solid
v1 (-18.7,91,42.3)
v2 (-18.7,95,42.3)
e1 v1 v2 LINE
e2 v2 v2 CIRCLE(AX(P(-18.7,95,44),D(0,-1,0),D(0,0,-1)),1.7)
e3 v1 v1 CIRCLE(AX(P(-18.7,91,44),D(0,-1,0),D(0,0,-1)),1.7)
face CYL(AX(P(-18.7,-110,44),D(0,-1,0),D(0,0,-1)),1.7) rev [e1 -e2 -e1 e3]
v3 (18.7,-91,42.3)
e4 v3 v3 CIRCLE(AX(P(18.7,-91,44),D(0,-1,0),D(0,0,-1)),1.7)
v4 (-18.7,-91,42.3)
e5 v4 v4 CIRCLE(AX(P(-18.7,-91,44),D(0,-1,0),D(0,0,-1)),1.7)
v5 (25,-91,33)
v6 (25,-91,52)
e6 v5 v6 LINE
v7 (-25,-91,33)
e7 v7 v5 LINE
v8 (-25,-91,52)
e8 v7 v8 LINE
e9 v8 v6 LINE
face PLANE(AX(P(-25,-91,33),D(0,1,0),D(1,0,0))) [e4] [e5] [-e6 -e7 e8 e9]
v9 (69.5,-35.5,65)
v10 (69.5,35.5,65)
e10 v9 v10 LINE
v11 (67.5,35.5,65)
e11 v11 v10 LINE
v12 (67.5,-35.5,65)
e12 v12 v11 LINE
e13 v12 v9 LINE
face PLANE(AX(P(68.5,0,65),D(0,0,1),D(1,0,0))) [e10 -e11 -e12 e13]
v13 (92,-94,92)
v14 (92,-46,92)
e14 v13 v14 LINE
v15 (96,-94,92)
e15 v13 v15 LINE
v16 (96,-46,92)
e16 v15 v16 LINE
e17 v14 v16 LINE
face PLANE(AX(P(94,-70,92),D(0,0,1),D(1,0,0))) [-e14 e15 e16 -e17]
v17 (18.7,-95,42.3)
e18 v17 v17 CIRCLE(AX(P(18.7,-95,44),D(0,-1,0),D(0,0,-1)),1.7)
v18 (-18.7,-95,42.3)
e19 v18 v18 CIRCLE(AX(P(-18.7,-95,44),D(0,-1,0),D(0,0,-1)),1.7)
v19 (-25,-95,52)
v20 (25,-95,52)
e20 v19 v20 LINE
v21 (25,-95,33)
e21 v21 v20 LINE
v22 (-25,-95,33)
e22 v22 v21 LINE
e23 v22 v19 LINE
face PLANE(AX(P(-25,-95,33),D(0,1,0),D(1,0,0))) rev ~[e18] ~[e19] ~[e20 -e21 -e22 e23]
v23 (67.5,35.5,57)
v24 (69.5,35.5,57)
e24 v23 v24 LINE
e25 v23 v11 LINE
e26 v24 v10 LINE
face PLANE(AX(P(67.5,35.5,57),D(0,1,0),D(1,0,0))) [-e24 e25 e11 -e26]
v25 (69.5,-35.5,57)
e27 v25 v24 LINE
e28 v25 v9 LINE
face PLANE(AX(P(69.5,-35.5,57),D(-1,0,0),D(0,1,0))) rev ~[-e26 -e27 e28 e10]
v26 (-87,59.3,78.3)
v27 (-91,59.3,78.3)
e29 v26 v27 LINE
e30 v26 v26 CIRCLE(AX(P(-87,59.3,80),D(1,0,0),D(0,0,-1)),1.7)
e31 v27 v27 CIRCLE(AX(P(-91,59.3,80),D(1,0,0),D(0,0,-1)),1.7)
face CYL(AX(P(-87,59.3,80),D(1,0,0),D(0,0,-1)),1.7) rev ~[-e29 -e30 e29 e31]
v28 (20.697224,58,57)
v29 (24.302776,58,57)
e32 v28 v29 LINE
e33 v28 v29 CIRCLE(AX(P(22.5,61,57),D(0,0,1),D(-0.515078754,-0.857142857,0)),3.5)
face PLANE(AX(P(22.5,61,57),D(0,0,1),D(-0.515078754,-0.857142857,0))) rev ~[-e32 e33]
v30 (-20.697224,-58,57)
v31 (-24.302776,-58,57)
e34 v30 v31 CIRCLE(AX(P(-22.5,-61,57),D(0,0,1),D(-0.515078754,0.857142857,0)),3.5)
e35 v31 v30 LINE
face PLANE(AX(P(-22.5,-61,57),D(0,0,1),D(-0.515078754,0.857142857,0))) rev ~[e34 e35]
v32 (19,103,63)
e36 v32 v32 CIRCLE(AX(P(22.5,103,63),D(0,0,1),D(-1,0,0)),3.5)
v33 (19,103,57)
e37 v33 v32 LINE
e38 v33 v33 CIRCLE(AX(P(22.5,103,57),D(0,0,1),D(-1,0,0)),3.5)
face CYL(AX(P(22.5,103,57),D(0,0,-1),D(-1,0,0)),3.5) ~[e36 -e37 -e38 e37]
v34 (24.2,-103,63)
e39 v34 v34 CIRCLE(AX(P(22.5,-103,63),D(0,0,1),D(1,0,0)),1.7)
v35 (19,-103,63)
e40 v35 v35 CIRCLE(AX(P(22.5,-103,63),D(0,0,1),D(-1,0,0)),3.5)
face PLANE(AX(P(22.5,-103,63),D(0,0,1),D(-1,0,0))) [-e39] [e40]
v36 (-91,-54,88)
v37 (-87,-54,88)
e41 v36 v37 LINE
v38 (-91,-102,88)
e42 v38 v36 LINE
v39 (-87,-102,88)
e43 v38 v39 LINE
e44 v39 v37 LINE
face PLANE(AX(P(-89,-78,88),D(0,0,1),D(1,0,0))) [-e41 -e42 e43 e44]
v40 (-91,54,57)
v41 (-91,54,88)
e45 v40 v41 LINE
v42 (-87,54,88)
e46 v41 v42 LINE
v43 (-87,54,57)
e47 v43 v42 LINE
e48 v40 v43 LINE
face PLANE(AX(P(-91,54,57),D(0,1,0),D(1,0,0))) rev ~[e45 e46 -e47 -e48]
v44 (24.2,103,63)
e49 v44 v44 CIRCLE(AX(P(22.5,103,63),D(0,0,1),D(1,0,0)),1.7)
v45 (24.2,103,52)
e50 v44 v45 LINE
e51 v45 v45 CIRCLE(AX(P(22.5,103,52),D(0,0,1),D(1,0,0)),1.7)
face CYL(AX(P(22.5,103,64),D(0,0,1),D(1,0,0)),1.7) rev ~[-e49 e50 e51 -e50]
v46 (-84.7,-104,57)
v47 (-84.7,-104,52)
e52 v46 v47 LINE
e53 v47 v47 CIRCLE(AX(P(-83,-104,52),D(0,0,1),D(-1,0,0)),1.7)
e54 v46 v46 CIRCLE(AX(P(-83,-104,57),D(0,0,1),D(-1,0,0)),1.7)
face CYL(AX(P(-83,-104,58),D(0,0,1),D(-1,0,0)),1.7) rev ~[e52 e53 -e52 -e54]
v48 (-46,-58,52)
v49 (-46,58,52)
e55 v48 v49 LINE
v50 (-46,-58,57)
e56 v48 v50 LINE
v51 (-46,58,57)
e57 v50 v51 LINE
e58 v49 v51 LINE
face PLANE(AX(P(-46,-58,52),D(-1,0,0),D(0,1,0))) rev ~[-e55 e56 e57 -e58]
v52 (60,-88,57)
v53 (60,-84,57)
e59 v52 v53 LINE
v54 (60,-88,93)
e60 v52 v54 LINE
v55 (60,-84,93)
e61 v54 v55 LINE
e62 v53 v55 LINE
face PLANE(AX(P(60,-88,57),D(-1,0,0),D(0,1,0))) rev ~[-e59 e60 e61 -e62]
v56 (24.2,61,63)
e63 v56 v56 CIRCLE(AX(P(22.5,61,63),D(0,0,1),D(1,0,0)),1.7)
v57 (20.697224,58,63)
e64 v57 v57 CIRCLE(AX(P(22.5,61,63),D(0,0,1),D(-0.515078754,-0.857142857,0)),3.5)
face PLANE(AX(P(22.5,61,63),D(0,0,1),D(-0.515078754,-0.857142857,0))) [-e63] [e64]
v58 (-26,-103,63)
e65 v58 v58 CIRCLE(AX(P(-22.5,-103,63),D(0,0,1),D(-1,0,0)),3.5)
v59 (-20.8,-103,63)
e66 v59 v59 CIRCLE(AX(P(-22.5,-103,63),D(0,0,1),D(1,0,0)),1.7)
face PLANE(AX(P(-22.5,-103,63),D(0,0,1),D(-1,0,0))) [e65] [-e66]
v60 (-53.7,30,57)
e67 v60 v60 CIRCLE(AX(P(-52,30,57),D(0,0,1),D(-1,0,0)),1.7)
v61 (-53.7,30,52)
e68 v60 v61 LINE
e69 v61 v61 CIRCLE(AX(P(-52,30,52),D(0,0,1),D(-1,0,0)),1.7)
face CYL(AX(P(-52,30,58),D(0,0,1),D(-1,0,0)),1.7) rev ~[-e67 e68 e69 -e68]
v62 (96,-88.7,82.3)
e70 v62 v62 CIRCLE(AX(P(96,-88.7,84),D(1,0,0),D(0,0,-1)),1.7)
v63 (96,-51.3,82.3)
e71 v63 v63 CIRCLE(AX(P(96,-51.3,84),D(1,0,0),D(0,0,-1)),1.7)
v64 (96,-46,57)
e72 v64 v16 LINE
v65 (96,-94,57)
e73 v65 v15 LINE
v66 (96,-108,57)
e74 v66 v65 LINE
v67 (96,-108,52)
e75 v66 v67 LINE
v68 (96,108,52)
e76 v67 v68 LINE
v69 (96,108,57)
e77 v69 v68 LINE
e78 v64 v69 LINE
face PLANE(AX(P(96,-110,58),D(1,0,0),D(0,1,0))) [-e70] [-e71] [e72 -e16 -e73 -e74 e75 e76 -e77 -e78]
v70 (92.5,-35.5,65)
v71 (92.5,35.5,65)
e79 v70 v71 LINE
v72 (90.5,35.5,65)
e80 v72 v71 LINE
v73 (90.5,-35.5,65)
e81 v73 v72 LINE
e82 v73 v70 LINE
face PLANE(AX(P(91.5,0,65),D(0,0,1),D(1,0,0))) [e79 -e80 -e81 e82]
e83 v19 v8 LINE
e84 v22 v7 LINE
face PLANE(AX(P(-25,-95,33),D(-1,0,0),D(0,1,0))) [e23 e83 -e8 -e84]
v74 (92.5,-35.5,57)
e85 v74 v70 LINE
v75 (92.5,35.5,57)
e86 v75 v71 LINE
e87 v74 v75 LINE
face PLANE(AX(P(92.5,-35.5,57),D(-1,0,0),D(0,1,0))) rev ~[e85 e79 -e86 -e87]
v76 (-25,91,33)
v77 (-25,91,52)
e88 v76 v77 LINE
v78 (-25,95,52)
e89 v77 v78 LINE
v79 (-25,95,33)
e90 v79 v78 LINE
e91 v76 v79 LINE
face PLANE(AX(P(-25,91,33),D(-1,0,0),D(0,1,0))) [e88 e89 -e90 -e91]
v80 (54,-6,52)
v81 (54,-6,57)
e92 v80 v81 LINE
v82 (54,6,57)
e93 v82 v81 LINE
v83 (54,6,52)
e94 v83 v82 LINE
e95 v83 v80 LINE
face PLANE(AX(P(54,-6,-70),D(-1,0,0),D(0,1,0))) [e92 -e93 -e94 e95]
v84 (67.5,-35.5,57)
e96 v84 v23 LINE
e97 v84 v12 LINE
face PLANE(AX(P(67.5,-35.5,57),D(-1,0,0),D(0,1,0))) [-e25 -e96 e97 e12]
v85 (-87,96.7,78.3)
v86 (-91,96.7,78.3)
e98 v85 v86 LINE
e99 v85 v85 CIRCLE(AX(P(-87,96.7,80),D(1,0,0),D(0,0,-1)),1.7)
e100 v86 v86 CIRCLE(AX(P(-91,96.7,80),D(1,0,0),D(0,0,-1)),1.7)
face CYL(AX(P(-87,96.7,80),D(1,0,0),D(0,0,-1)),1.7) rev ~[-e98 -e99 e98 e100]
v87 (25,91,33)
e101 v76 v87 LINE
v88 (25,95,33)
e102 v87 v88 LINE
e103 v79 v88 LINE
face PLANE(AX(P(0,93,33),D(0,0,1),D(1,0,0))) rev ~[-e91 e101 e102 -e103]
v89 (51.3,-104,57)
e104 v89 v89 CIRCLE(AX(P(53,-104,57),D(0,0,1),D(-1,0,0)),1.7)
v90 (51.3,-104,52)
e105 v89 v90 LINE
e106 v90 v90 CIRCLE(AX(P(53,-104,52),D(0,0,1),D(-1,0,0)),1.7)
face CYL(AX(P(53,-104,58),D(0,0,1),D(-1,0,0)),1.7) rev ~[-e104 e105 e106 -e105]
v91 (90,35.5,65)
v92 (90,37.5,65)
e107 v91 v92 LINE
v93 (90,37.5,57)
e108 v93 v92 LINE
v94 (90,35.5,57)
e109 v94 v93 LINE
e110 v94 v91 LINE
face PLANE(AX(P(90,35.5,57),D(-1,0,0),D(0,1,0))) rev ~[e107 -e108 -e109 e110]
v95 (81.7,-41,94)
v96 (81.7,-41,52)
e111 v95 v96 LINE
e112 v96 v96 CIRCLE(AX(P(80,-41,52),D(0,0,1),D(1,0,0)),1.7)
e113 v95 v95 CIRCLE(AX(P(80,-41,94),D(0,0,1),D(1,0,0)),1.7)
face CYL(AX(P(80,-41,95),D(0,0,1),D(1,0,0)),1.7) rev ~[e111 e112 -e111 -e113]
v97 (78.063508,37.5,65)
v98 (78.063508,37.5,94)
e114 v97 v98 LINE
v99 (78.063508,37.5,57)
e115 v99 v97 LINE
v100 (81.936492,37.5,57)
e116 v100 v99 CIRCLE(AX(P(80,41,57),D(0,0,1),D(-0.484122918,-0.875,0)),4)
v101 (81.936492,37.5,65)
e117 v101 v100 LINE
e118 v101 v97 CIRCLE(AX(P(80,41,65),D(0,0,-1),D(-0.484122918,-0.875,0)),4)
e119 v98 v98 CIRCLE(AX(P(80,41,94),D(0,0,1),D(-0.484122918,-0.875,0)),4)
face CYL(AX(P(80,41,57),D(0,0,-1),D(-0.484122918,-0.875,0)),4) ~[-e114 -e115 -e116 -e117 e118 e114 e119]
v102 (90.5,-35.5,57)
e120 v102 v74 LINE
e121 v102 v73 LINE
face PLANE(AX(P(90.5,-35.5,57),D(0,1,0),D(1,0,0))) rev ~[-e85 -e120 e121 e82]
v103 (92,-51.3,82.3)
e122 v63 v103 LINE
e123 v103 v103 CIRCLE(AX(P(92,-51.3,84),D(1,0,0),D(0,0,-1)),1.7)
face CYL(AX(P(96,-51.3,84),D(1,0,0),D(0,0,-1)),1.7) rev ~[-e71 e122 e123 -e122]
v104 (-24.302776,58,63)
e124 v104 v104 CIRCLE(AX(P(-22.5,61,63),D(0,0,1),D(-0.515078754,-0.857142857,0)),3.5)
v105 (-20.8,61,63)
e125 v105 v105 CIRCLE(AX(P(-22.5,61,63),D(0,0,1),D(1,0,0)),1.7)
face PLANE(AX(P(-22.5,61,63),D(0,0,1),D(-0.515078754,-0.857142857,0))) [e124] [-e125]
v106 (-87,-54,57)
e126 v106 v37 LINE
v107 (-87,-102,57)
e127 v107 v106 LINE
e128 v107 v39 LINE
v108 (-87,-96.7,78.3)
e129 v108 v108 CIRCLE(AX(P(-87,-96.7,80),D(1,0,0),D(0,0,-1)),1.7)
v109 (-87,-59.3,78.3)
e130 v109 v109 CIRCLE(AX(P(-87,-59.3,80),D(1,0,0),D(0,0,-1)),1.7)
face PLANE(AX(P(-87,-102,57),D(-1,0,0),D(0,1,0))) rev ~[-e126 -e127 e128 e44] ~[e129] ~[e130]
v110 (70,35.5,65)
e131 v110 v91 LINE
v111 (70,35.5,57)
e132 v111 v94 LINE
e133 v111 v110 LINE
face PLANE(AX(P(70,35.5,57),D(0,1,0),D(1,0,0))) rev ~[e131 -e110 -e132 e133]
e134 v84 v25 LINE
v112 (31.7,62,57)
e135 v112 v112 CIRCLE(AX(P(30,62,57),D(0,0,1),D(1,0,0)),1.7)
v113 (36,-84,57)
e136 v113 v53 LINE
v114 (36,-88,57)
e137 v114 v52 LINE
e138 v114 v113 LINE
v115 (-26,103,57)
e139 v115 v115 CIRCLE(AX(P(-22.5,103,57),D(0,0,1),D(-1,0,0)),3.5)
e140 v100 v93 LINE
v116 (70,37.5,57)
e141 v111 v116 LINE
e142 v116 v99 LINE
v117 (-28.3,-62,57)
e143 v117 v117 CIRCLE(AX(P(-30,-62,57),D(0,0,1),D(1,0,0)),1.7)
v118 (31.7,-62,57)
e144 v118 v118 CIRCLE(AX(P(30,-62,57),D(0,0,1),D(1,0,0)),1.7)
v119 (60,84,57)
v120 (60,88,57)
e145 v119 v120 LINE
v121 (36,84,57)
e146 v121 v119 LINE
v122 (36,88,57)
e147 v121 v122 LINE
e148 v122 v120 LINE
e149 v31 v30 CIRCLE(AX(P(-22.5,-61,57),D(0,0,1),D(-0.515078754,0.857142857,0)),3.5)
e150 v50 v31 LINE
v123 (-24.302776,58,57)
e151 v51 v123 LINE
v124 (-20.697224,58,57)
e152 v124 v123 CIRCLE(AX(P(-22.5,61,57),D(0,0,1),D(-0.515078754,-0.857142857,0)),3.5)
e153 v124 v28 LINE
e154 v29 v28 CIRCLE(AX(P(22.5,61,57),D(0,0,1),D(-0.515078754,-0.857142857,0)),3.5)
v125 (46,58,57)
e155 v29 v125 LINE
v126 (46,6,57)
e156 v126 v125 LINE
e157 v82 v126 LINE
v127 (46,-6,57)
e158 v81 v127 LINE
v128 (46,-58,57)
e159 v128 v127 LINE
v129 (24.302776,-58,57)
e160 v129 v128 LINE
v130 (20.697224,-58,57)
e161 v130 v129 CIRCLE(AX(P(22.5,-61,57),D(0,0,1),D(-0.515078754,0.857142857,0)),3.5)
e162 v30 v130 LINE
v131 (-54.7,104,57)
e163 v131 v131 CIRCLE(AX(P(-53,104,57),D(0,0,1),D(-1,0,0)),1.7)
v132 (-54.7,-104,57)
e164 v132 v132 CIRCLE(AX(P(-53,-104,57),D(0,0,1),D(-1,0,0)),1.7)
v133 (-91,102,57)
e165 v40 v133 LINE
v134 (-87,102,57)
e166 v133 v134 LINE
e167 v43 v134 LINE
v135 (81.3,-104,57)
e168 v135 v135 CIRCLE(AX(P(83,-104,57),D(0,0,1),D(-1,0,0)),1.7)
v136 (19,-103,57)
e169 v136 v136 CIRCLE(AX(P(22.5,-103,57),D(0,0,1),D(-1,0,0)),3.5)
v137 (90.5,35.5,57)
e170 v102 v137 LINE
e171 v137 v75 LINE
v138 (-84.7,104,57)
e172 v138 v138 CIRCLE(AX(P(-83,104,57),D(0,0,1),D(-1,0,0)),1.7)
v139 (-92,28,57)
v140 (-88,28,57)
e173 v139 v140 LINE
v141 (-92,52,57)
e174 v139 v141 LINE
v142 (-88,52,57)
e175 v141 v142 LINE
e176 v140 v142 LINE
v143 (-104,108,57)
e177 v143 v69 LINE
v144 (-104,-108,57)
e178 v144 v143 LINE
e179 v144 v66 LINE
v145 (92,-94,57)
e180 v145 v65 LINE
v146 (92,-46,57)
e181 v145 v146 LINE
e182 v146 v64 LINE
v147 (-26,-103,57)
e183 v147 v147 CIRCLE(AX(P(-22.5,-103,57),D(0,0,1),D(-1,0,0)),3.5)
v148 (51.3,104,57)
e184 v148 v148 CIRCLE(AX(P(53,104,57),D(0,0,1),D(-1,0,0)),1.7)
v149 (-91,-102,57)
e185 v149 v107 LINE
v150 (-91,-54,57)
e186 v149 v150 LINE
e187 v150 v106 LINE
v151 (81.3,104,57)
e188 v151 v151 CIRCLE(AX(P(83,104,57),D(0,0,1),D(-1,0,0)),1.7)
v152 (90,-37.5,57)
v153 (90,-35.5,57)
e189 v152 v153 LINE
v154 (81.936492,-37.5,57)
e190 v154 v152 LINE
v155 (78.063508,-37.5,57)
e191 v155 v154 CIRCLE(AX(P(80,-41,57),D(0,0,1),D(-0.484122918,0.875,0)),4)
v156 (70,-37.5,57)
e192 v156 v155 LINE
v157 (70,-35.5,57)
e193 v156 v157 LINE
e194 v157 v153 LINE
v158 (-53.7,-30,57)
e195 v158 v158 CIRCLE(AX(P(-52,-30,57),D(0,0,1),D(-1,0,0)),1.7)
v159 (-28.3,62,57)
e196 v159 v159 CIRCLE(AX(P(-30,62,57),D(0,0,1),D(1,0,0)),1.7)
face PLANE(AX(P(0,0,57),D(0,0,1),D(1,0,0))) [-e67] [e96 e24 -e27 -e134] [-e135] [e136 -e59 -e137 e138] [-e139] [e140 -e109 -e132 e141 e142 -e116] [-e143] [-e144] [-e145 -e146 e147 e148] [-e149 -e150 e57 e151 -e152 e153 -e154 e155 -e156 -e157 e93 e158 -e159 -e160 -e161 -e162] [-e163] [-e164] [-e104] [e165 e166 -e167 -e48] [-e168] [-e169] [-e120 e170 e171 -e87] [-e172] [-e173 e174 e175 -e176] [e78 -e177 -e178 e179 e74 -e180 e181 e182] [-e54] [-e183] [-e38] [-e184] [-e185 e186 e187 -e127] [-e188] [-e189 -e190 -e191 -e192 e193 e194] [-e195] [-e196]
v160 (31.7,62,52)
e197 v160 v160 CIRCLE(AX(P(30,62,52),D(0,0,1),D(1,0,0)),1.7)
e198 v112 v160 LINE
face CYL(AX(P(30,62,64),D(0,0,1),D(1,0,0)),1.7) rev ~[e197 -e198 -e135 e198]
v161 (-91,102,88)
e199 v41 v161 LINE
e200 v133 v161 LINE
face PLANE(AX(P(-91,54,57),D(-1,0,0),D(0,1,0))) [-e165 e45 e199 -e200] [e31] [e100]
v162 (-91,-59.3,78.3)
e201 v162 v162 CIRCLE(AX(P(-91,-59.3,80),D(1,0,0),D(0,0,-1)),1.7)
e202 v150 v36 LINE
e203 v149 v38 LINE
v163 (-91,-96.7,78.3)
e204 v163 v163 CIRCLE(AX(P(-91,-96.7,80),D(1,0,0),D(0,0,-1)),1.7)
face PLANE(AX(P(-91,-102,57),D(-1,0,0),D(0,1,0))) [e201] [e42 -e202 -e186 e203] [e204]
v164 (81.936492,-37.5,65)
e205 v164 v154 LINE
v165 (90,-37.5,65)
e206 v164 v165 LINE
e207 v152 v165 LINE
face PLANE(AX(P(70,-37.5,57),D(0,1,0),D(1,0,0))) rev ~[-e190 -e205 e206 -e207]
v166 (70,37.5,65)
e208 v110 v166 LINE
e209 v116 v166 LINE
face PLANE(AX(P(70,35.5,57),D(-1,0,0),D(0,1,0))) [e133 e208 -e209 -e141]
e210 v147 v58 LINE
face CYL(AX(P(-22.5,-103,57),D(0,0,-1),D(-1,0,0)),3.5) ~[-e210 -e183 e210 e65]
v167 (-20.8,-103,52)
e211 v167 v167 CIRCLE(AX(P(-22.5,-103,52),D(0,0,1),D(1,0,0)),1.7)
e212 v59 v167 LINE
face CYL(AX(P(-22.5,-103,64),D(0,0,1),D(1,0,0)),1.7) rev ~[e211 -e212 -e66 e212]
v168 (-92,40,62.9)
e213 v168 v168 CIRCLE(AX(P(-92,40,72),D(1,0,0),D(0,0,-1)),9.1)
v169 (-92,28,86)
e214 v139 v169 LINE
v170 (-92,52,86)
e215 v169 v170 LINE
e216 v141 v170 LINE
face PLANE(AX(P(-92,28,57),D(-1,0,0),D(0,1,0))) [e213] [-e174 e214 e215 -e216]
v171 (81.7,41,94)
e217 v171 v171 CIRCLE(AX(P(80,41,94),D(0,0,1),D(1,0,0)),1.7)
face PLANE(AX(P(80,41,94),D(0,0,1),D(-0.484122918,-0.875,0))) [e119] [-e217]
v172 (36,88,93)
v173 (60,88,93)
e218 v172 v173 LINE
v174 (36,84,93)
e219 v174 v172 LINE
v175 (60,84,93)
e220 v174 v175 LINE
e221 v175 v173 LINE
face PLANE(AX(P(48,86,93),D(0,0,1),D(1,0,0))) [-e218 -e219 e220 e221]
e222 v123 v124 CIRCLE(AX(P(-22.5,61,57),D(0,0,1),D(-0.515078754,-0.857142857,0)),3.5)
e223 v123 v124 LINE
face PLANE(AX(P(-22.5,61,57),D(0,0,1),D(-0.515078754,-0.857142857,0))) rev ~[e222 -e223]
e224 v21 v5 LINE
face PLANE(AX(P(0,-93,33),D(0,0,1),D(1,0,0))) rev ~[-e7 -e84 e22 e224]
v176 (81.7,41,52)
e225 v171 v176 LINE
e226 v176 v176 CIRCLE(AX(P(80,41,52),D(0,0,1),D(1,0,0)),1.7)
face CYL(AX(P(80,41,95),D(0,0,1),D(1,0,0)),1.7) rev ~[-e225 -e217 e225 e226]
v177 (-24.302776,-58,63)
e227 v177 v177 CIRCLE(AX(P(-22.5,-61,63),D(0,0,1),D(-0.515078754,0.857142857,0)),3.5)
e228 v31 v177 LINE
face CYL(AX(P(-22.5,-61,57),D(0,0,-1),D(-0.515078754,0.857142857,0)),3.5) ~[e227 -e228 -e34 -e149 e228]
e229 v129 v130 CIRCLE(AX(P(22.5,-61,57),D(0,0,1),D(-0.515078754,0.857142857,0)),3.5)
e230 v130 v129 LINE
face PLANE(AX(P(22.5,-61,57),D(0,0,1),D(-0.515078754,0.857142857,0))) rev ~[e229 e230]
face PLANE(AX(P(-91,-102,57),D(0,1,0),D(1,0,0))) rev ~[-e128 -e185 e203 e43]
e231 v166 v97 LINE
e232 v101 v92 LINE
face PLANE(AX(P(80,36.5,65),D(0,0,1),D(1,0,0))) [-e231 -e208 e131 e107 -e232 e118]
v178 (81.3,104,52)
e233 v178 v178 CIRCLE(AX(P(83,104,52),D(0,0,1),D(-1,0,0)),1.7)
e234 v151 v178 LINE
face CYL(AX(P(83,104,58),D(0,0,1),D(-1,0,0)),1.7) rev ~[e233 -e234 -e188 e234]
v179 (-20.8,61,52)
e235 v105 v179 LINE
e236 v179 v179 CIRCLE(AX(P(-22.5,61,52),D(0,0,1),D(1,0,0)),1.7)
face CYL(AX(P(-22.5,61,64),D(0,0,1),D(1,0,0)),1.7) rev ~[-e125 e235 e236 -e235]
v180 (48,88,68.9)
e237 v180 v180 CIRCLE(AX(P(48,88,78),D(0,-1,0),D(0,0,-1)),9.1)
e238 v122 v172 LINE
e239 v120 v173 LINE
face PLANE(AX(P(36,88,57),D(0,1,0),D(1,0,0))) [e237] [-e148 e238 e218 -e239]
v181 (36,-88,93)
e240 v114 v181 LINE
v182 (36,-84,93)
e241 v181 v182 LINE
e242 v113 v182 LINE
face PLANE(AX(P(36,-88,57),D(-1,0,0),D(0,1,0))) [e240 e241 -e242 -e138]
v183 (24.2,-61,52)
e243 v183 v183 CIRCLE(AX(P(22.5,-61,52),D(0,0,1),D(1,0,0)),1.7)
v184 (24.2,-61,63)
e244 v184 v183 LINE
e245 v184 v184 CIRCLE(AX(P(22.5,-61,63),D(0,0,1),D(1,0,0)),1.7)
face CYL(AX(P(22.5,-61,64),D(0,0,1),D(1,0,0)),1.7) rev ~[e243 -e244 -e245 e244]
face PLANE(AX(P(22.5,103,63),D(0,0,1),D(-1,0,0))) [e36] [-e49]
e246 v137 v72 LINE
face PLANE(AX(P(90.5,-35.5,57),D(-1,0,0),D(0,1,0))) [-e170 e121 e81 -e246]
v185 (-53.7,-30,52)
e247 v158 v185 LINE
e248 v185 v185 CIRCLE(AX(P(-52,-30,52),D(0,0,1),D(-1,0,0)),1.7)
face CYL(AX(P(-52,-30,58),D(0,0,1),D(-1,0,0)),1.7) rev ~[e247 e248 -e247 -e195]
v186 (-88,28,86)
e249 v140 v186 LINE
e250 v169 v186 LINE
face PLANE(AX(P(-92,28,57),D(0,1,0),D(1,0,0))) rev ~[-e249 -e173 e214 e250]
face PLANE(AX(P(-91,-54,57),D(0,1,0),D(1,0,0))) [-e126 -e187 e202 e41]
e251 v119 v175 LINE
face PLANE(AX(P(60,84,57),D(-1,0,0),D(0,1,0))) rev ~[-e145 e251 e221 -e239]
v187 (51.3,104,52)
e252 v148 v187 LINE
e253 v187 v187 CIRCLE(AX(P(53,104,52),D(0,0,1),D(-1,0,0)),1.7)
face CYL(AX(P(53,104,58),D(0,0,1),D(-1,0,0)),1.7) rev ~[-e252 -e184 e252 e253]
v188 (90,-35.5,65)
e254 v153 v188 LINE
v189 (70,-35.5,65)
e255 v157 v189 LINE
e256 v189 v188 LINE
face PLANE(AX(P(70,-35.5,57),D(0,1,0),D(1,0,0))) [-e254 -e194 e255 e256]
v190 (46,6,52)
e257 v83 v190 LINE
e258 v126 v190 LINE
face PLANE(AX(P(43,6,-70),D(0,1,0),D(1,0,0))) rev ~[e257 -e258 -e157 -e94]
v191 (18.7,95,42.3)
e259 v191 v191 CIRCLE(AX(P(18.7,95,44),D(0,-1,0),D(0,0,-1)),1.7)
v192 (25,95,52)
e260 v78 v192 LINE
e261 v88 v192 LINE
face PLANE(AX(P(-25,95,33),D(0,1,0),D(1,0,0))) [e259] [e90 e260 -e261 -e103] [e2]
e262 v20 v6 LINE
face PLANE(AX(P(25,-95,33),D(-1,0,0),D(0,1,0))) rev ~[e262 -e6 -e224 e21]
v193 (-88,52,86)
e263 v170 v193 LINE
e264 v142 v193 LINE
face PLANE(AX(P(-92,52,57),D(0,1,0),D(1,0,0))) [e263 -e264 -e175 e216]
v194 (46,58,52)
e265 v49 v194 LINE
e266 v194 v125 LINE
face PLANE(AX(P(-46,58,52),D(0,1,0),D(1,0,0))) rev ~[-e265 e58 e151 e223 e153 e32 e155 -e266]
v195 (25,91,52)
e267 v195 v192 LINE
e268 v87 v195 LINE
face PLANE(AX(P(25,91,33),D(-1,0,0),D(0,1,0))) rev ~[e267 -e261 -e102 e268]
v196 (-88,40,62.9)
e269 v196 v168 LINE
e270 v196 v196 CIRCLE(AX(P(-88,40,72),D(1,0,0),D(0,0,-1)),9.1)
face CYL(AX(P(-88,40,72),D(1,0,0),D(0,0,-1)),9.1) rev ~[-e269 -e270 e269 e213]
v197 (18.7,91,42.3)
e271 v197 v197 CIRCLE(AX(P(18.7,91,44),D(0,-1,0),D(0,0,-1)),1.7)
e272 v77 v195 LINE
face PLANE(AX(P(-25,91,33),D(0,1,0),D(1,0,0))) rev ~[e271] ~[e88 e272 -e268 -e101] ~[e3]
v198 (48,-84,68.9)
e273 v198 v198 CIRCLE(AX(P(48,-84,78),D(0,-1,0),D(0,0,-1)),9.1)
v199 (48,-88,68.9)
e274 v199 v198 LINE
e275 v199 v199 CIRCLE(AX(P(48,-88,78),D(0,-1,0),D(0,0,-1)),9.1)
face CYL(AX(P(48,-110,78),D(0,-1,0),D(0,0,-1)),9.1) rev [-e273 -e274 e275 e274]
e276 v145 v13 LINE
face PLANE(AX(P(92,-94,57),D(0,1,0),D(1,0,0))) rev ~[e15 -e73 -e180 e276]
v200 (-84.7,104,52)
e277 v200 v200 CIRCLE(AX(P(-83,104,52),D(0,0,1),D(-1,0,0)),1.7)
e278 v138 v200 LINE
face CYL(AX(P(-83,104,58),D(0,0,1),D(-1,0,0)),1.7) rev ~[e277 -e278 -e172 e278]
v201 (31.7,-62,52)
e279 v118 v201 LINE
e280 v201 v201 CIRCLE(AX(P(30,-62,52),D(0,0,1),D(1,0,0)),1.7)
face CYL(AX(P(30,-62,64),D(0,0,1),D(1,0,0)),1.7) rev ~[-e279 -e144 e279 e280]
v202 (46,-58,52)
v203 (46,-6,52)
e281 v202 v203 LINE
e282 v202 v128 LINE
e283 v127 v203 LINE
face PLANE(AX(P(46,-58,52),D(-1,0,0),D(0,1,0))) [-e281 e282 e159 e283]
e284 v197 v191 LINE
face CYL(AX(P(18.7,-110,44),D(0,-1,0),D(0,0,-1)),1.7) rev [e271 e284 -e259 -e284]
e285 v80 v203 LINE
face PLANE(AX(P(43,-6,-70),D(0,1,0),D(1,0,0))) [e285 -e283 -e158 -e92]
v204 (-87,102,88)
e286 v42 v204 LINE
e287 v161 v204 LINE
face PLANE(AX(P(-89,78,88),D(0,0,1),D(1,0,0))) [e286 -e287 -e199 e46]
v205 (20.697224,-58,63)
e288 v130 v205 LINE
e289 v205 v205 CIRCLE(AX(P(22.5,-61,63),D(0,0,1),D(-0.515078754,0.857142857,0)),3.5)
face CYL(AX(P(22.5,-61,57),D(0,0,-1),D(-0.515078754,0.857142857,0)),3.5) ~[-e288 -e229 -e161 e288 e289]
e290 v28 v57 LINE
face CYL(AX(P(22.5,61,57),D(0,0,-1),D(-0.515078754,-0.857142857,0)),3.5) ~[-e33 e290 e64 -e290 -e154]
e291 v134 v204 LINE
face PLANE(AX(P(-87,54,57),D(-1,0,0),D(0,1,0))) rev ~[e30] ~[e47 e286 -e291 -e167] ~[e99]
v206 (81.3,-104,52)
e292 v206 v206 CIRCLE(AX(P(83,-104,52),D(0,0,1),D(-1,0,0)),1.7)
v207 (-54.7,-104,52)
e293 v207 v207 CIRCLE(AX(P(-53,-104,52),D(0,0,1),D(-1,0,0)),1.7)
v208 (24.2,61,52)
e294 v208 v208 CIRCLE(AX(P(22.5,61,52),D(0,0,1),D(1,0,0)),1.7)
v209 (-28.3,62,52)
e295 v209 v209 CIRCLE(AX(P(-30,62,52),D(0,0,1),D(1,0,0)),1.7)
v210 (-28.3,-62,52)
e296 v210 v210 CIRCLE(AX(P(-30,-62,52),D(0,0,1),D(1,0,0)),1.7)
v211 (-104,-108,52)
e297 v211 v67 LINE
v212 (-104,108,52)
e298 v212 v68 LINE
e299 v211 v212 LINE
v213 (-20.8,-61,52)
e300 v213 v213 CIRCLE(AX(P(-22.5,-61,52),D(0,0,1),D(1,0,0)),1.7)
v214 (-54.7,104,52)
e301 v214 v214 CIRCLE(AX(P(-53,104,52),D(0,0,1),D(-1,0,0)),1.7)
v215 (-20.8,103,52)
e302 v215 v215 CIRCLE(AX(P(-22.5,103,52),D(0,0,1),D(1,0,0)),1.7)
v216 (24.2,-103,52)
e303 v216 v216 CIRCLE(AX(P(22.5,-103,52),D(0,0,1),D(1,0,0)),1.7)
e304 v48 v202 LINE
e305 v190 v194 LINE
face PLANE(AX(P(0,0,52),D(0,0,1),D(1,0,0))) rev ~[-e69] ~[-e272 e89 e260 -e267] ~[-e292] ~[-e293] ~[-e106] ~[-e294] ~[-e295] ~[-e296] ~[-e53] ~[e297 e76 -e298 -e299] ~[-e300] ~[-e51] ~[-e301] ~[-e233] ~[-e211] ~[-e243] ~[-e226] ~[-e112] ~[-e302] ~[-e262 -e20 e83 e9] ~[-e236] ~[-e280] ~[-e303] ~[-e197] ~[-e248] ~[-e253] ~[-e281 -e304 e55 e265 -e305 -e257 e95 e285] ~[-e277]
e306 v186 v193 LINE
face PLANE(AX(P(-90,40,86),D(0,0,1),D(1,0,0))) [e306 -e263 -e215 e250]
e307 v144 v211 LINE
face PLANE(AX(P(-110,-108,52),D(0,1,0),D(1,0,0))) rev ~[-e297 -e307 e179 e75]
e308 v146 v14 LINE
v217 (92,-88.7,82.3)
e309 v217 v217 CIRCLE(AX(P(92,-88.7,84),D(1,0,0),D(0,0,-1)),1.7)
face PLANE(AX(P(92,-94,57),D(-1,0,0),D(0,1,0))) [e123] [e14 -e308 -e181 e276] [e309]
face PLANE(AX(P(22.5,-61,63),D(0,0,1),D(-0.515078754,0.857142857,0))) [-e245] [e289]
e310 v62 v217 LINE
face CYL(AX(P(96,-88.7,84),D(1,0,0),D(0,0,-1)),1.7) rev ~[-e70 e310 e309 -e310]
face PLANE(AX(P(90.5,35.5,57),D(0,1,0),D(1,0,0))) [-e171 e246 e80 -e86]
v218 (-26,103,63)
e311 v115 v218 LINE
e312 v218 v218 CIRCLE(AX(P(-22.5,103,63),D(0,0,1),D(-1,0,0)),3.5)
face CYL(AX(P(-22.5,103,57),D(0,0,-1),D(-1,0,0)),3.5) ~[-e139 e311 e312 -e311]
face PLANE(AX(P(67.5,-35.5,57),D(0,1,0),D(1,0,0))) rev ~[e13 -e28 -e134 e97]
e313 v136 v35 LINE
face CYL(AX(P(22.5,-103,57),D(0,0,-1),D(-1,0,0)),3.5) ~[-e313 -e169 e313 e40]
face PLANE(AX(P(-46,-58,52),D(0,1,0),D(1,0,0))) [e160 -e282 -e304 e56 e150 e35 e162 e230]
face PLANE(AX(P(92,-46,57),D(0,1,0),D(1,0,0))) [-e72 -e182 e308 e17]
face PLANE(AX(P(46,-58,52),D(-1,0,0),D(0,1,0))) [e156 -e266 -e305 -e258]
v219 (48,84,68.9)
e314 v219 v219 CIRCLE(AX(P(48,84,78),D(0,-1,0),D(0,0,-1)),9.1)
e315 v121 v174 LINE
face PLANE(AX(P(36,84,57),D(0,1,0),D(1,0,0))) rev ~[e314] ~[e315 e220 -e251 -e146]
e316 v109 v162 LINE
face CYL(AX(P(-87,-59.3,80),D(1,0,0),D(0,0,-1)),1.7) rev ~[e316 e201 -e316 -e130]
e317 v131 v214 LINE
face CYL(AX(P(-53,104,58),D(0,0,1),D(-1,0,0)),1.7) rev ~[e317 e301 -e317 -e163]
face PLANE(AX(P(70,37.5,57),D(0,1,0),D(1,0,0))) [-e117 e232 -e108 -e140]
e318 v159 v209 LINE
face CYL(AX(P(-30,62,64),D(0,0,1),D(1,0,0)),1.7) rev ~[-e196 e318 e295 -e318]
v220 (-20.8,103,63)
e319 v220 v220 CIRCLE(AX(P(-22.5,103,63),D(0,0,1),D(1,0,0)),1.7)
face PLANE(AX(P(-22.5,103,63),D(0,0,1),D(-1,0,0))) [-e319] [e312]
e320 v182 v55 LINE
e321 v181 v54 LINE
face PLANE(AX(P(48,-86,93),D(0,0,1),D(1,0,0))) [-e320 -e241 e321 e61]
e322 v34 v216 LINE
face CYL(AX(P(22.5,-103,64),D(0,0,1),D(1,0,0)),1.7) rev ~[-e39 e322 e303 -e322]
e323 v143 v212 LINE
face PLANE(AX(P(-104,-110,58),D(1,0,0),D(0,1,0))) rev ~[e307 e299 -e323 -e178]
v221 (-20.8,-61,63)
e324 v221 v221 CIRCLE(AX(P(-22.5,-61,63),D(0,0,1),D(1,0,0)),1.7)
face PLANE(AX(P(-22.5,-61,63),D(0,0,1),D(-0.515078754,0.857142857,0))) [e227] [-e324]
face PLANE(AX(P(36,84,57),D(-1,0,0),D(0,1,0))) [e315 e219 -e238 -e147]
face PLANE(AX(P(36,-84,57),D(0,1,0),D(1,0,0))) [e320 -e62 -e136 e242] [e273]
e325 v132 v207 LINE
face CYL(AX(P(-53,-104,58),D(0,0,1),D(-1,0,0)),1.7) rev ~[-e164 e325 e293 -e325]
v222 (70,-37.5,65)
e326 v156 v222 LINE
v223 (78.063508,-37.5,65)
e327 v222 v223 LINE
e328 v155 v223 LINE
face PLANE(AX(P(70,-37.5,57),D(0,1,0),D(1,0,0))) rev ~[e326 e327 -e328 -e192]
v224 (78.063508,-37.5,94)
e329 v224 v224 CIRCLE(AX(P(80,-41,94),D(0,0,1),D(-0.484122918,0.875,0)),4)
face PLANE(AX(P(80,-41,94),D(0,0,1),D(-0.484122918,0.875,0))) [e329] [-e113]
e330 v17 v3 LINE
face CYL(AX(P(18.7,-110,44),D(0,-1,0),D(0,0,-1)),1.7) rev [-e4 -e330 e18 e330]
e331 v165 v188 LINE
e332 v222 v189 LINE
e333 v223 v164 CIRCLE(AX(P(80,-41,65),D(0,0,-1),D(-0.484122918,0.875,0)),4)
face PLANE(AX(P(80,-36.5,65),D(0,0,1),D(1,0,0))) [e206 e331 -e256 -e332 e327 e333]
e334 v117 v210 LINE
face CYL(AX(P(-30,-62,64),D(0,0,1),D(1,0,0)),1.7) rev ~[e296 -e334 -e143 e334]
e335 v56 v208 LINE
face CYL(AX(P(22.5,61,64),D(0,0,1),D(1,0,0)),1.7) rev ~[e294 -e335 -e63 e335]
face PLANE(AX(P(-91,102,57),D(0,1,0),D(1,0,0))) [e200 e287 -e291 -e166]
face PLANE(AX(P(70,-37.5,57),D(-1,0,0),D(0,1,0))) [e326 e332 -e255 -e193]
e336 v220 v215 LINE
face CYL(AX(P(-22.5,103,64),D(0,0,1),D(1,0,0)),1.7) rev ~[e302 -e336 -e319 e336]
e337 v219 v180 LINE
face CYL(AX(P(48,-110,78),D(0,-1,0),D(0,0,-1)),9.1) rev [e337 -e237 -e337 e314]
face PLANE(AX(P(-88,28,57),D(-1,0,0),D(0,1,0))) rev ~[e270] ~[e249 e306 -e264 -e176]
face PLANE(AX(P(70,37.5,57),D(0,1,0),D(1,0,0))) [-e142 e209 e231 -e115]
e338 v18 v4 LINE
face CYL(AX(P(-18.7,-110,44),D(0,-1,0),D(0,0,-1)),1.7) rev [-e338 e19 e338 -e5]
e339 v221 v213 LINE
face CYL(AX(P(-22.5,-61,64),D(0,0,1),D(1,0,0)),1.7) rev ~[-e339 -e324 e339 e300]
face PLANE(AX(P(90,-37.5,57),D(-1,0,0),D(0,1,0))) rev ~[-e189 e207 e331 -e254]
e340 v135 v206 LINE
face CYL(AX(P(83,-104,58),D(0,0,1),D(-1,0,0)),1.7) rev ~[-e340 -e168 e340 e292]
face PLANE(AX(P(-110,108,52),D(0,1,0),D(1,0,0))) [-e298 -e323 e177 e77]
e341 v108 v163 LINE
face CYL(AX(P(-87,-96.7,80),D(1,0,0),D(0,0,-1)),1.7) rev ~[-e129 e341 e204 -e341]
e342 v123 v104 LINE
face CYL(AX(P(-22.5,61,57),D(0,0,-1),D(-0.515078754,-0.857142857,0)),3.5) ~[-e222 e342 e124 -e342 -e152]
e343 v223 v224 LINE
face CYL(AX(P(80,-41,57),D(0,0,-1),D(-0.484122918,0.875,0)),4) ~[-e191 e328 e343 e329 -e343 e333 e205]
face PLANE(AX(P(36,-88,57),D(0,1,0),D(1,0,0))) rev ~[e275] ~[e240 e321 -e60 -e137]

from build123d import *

# Parameters (mm, degrees)
UPPER_DECK_CENTRAL_OPENING_92X116_START       = 52
SKETCH_1_W                                    = 220
SKETCH_1_H                                    = 216
SKETCH_1_W_2                                  = 92
SKETCH_1_H_2                                  = 116
UPPER_DECK_CENTRAL_OPENING_92X116_DEPTH       = 5
EIGHT_MATCHING_M3_CLEARANCE_START             = 58
SKETCH_2_R                                    = 1.7
EIGHT_MATCHING_M3_CLEARANCE_DEPTH             = 7
CAMERA_BASE_TWO_M3_START                      = 58
SKETCH_4_R                                    = 1.7
CAMERA_BASE_TWO_M3_DEPTH                      = 7
UPPER_DECK_REAR_BOX_AND_PIVOT_CLEARANCE_START = 58
SKETCH_5_W                                    = 16
SKETCH_5_H                                    = 220
SKETCH_5_W_2                                  = 8
UPPER_DECK_REAR_BOX_AND_PIVOT_CLEARANCE_DEPTH = 7
BATTERY_CLAMP_VERTICAL_TOOL_ACCESS_DEPTH      = 70
BATTERY_CLAMP_VERTICAL_TOOL_ACCESS_DEPTH_BACK = 70
SKETCH_6_W                                    = 11
SKETCH_6_H                                    = 12
INTEGRAL_DRIVER_STANDOFFS_6MM_START           = 57
SKETCH_7_R                                    = 3.5
INTEGRAL_DRIVER_STANDOFFS_6MM_DEPTH           = 6
ELECTRONICS_MATCHING_DECK_HOLES_START         = 64
SKETCH_8_R                                    = 1.7
ELECTRONICS_MATCHING_DECK_HOLES_DEPTH         = 13
CONTROL_BATTERY_LOW_LOCATORS_START            = 57
SKETCH_9_W                                    = 2
SKETCH_9_H                                    = 71
SKETCH_9_W_2                                  = 20
SKETCH_9_H_2                                  = 2
CONTROL_BATTERY_LOW_LOCATORS_DEPTH            = 8
CONTROL_BATTERY_INTEGRAL_CLAMP_POSTS_START    = 57
SKETCH_10_R                                   = 4
CONTROL_BATTERY_INTEGRAL_CLAMP_POSTS_DEPTH    = 37
CONTROL_BATTERY_M3_THROUGH_START              = 95
SKETCH_11_R                                   = 1.7
CONTROL_BATTERY_M3_THROUGH_DEPTH              = 44
SIDE_IR_DIRECT_UNDERDECK_MOUNTS_START         = 33
SKETCH_12_W                                   = 50
SKETCH_12_H                                   = 4
SIDE_IR_DIRECT_UNDERDECK_MOUNTS_DEPTH         = 19
SIDE_IR_37P4_PITCH_DEPTH                      = 110
SIDE_IR_37P4_PITCH_DEPTH_BACK                 = 110
SKETCH_13_R                                   = 1.7
FRONT_IR_DIRECT_UPPER_MOUNTS_START            = 57
SKETCH_14_W                                   = 4
SKETCH_14_H                                   = 48
FRONT_IR_DIRECT_UPPER_MOUNTS_DEPTH            = 31
FRONT_IR_M3_MOUNTS_START                      = -87
SKETCH_15_R                                   = 1.7
FRONT_IR_M3_MOUNTS_DEPTH                      = 4
REAR_IR_ABOVE_TAIL_NOT_ON_RAMP_START          = 57
SKETCH_16_W                                   = 4
SKETCH_16_H                                   = 48
REAR_IR_ABOVE_TAIL_NOT_ON_RAMP_DEPTH          = 35
REAR_IR_M3_MOUNTS_START                       = 96
SKETCH_17_R                                   = 1.7
REAR_IR_M3_MOUNTS_DEPTH                       = 4
FRONT_PHOTOEYE_SHORT_DIRECT_SEAT_START        = 57
SKETCH_18_W                                   = 4
SKETCH_18_H                                   = 24
FRONT_PHOTOEYE_SHORT_DIRECT_SEAT_DEPTH        = 29
FRONT_M18_CLEARANCE_START                     = -88
SKETCH_19_R                                   = 9.1
FRONT_M18_CLEARANCE_DEPTH                     = 4
SIDE_PHOTOEYE_DIRECT_SEATS_START              = 57
SKETCH_20_W                                   = 24
SKETCH_20_H                                   = 4
SIDE_PHOTOEYE_DIRECT_SEATS_DEPTH              = 36
SIDE_M18_CLEARANCES_DEPTH                     = 110
SIDE_M18_CLEARANCES_DEPTH_BACK                = 110
SKETCH_21_R                                   = 9.1


with BuildPart() as part:
    # 草图1 → Upper_deck_central_opening_92x116 (new body)
    with BuildSketch(Plane.XY.offset(UPPER_DECK_CENTRAL_OPENING_92X116_START)):
        Rectangle(SKETCH_1_W, SKETCH_1_H)
        Rectangle(SKETCH_1_W_2, SKETCH_1_H_2, mode=Mode.SUBTRACT)
    extrude(amount=UPPER_DECK_CENTRAL_OPENING_92X116_DEPTH)

    # 草图2 → Eight_matching_M3_clearance (cut)
    with BuildSketch(Plane.XY.offset(EIGHT_MATCHING_M3_CLEARANCE_START)):
        with Locations(Location((-83, -104, 0), (0, 0, 180))):
            Circle(SKETCH_2_R)
        with Locations(Location((-83, 104, 0), (0, 0, 180))):
            Circle(SKETCH_2_R)
        with Locations(Location((-53, -104, 0), (0, 0, 180))):
            Circle(SKETCH_2_R)
        with Locations(Location((-53, 104, 0), (0, 0, 180))):
            Circle(SKETCH_2_R)
        with Locations(Location((53, -104, 0), (0, 0, 180))):
            Circle(SKETCH_2_R)
        with Locations(Location((53, 104, 0), (0, 0, 180))):
            Circle(SKETCH_2_R)
        with Locations(Location((83, -104, 0), (0, 0, 180))):
            Circle(SKETCH_2_R)
        with Locations(Location((83, 104, 0), (0, 0, 180))):
            Circle(SKETCH_2_R)
    extrude(amount=-EIGHT_MATCHING_M3_CLEARANCE_DEPTH, mode=Mode.SUBTRACT)

    # 草图4 → Camera_base_two_M3 (cut)
    with BuildSketch(Plane.XY.offset(CAMERA_BASE_TWO_M3_START)):
        with Locations(Location((-52, -30, 0), (0, 0, 180))):
            Circle(SKETCH_4_R)
        with Locations(Location((-52, 30, 0), (0, 0, 180))):
            Circle(SKETCH_4_R)
    extrude(amount=-CAMERA_BASE_TWO_M3_DEPTH, mode=Mode.SUBTRACT)

    # 草图5 → Upper_deck_rear_box_and_pivot_clearance (cut)
    with BuildSketch(Plane.XY.offset(UPPER_DECK_REAR_BOX_AND_PIVOT_CLEARANCE_START)):
        with Locations((104, 0)):
            Rectangle(SKETCH_5_W, SKETCH_5_H)
        with Locations((-108, 0)):
            Rectangle(SKETCH_5_W_2, SKETCH_5_H)
    extrude(amount=-UPPER_DECK_REAR_BOX_AND_PIVOT_CLEARANCE_DEPTH, mode=Mode.SUBTRACT)

    # 草图6 → Battery_clamp_vertical_tool_access (cut, two sides: drawn at the far end of the back side and taken through both)
    with BuildSketch(Plane.XY.offset(-BATTERY_CLAMP_VERTICAL_TOOL_ACCESS_DEPTH_BACK)):
        with Locations((48.5, 0)):
            Rectangle(SKETCH_6_W, SKETCH_6_H)
    extrude(amount=BATTERY_CLAMP_VERTICAL_TOOL_ACCESS_DEPTH + BATTERY_CLAMP_VERTICAL_TOOL_ACCESS_DEPTH_BACK, mode=Mode.SUBTRACT)

    # 草图7 → Integral_driver_standoffs_6mm (add)
    with BuildSketch(Plane.XY.offset(INTEGRAL_DRIVER_STANDOFFS_6MM_START)):
        with Locations(Location((-22.5, -103, 0), (0, 0, 180))):
            Circle(SKETCH_7_R)
        with Locations(Location((-22.5, -61, 0), (0, 0, 121.002719134))):
            Circle(SKETCH_7_R)
        with Locations(Location((22.5, -103, 0), (0, 0, 180))):
            Circle(SKETCH_7_R)
        with Locations(Location((22.5, -61, 0), (0, 0, 121.002719134))):
            Circle(SKETCH_7_R)
        with Locations(Location((-22.5, 61, 0), (0, 0, 238.997280866))):
            Circle(SKETCH_7_R)
        with Locations(Location((-22.5, 103, 0), (0, 0, 180))):
            Circle(SKETCH_7_R)
        with Locations(Location((22.5, 61, 0), (0, 0, 238.997280866))):
            Circle(SKETCH_7_R)
        with Locations(Location((22.5, 103, 0), (0, 0, 180))):
            Circle(SKETCH_7_R)
    extrude(amount=INTEGRAL_DRIVER_STANDOFFS_6MM_DEPTH)

    # 草图8 → Electronics_matching_deck_holes (cut)
    with BuildSketch(Plane.XY.offset(ELECTRONICS_MATCHING_DECK_HOLES_START)):
        with Locations((-22.5, -103)):
            Circle(SKETCH_8_R)
        with Locations((-22.5, -61)):
            Circle(SKETCH_8_R)
        with Locations((22.5, -103)):
            Circle(SKETCH_8_R)
        with Locations((22.5, -61)):
            Circle(SKETCH_8_R)
        with Locations((-22.5, 61)):
            Circle(SKETCH_8_R)
        with Locations((-22.5, 103)):
            Circle(SKETCH_8_R)
        with Locations((22.5, 61)):
            Circle(SKETCH_8_R)
        with Locations((22.5, 103)):
            Circle(SKETCH_8_R)
        with Locations((-30, -62)):
            Circle(SKETCH_8_R)
        with Locations((-30, 62)):
            Circle(SKETCH_8_R)
        with Locations((30, -62)):
            Circle(SKETCH_8_R)
        with Locations((30, 62)):
            Circle(SKETCH_8_R)
    extrude(amount=-ELECTRONICS_MATCHING_DECK_HOLES_DEPTH, mode=Mode.SUBTRACT)

    # 草图9 → Control_battery_low_locators (add)
    with BuildSketch(Plane.XY.offset(CONTROL_BATTERY_LOW_LOCATORS_START)):
        with Locations((68.5, 0)):
            Rectangle(SKETCH_9_W, SKETCH_9_H)
        with Locations((91.5, 0)):
            Rectangle(SKETCH_9_W, SKETCH_9_H)
        with Locations((80, -36.5)):
            Rectangle(SKETCH_9_W_2, SKETCH_9_H_2)
        with Locations((80, 36.5)):
            Rectangle(SKETCH_9_W_2, SKETCH_9_H_2)
    extrude(amount=CONTROL_BATTERY_LOW_LOCATORS_DEPTH)

    # 草图10 → Control_battery_integral_clamp_posts (add)
    with BuildSketch(Plane.XY.offset(CONTROL_BATTERY_INTEGRAL_CLAMP_POSTS_START)):
        with Locations(Location((80, -41, 0), (0, 0, 118.955024372))):
            Circle(SKETCH_10_R)
        with Locations(Location((80, 41, 0), (0, 0, 241.044975628))):
            Circle(SKETCH_10_R)
    extrude(amount=CONTROL_BATTERY_INTEGRAL_CLAMP_POSTS_DEPTH)

    # 草图11 → Control_battery_M3_through (cut)
    with BuildSketch(Plane.XY.offset(CONTROL_BATTERY_M3_THROUGH_START)):
        with Locations((80, -41)):
            Circle(SKETCH_11_R)
        with Locations((80, 41)):
            Circle(SKETCH_11_R)
    extrude(amount=-CONTROL_BATTERY_M3_THROUGH_DEPTH, mode=Mode.SUBTRACT)

    # 草图12 → Side_IR_direct_underdeck_mounts (add)
    with BuildSketch(Plane.XY.offset(SIDE_IR_DIRECT_UNDERDECK_MOUNTS_START)):
        with Locations((0, 93)):
            Rectangle(SKETCH_12_W, SKETCH_12_H)
        with Locations((0, -93)):
            Rectangle(SKETCH_12_W, SKETCH_12_H)
    extrude(amount=SIDE_IR_DIRECT_UNDERDECK_MOUNTS_DEPTH)

    # 草图13 → Side_IR_37p4_pitch (cut, two sides: drawn at the far end of the back side and taken through both)
    with BuildSketch(Plane(origin=(0, 0, 0), x_dir=(1, 0, 0), z_dir=(0, 1, 0)).offset(-SIDE_IR_37P4_PITCH_DEPTH_BACK)):
        with Locations(Location((-18.7, -44, 0), (0, 0, 90))):
            Circle(SKETCH_13_R)
        with Locations(Location((18.7, -44, 0), (0, 0, 90))):
            Circle(SKETCH_13_R)
    extrude(amount=SIDE_IR_37P4_PITCH_DEPTH + SIDE_IR_37P4_PITCH_DEPTH_BACK, mode=Mode.SUBTRACT)

    # 草图14 → Front_IR_direct_upper_mounts (add)
    with BuildSketch(Plane.XY.offset(FRONT_IR_DIRECT_UPPER_MOUNTS_START)):
        with Locations((-89, -78)):
            Rectangle(SKETCH_14_W, SKETCH_14_H)
        with Locations((-89, 78)):
            Rectangle(SKETCH_14_W, SKETCH_14_H)
    extrude(amount=FRONT_IR_DIRECT_UPPER_MOUNTS_DEPTH)

    # 草图15 → Front_IR_M3_mounts (cut)
    with BuildSketch(Plane(origin=(0, 0, 0), x_dir=(0, 0, -1), z_dir=(1, 0, 0)).offset(FRONT_IR_M3_MOUNTS_START)):
        with Locations((-80, -96.7)):
            Circle(SKETCH_15_R)
        with Locations((-80, -59.3)):
            Circle(SKETCH_15_R)
        with Locations((-80, 59.3)):
            Circle(SKETCH_15_R)
        with Locations((-80, 96.7)):
            Circle(SKETCH_15_R)
    extrude(amount=-FRONT_IR_M3_MOUNTS_DEPTH, mode=Mode.SUBTRACT)

    # 草图16 → Rear_IR_above_tail_not_on_ramp (add)
    with BuildSketch(Plane.XY.offset(REAR_IR_ABOVE_TAIL_NOT_ON_RAMP_START)):
        with Locations((94, -70)):
            Rectangle(SKETCH_16_W, SKETCH_16_H)
    extrude(amount=REAR_IR_ABOVE_TAIL_NOT_ON_RAMP_DEPTH)

    # 草图17 → Rear_IR_M3_mounts (cut)
    with BuildSketch(Plane(origin=(0, 0, 0), x_dir=(0, 0, -1), z_dir=(1, 0, 0)).offset(REAR_IR_M3_MOUNTS_START)):
        with Locations((-84, -88.7)):
            Circle(SKETCH_17_R)
        with Locations((-84, -51.3)):
            Circle(SKETCH_17_R)
    extrude(amount=-REAR_IR_M3_MOUNTS_DEPTH, mode=Mode.SUBTRACT)

    # 草图18 → Front_photoeye_short_direct_seat (add)
    with BuildSketch(Plane.XY.offset(FRONT_PHOTOEYE_SHORT_DIRECT_SEAT_START)):
        with Locations((-90, 40)):
            Rectangle(SKETCH_18_W, SKETCH_18_H)
    extrude(amount=FRONT_PHOTOEYE_SHORT_DIRECT_SEAT_DEPTH)

    # 草图19 → Front_M18_clearance (cut)
    with BuildSketch(Plane(origin=(0, 0, 0), x_dir=(0, 0, -1), z_dir=(1, 0, 0)).offset(FRONT_M18_CLEARANCE_START)):
        with Locations((-72, 40)):
            Circle(SKETCH_19_R)
    extrude(amount=-FRONT_M18_CLEARANCE_DEPTH, mode=Mode.SUBTRACT)

    # 草图20 → Side_photoeye_direct_seats (add)
    with BuildSketch(Plane.XY.offset(SIDE_PHOTOEYE_DIRECT_SEATS_START)):
        with Locations((48, 86)):
            Rectangle(SKETCH_20_W, SKETCH_20_H)
        with Locations((48, -86)):
            Rectangle(SKETCH_20_W, SKETCH_20_H)
    extrude(amount=SIDE_PHOTOEYE_DIRECT_SEATS_DEPTH)

    # 草图21 → Side_M18_clearances (cut, two sides: drawn at the far end of the back side and taken through both)
    with BuildSketch(Plane(origin=(0, 0, 0), x_dir=(1, 0, 0), z_dir=(0, 1, 0)).offset(-SIDE_M18_CLEARANCES_DEPTH_BACK)):
        with Locations(Location((48, -78, 0), (0, 0, 90))):
            Circle(SKETCH_21_R)
    extrude(amount=SIDE_M18_CLEARANCES_DEPTH + SIDE_M18_CLEARANCES_DEPTH_BACK, mode=Mode.SUBTRACT)


solid = part.part
